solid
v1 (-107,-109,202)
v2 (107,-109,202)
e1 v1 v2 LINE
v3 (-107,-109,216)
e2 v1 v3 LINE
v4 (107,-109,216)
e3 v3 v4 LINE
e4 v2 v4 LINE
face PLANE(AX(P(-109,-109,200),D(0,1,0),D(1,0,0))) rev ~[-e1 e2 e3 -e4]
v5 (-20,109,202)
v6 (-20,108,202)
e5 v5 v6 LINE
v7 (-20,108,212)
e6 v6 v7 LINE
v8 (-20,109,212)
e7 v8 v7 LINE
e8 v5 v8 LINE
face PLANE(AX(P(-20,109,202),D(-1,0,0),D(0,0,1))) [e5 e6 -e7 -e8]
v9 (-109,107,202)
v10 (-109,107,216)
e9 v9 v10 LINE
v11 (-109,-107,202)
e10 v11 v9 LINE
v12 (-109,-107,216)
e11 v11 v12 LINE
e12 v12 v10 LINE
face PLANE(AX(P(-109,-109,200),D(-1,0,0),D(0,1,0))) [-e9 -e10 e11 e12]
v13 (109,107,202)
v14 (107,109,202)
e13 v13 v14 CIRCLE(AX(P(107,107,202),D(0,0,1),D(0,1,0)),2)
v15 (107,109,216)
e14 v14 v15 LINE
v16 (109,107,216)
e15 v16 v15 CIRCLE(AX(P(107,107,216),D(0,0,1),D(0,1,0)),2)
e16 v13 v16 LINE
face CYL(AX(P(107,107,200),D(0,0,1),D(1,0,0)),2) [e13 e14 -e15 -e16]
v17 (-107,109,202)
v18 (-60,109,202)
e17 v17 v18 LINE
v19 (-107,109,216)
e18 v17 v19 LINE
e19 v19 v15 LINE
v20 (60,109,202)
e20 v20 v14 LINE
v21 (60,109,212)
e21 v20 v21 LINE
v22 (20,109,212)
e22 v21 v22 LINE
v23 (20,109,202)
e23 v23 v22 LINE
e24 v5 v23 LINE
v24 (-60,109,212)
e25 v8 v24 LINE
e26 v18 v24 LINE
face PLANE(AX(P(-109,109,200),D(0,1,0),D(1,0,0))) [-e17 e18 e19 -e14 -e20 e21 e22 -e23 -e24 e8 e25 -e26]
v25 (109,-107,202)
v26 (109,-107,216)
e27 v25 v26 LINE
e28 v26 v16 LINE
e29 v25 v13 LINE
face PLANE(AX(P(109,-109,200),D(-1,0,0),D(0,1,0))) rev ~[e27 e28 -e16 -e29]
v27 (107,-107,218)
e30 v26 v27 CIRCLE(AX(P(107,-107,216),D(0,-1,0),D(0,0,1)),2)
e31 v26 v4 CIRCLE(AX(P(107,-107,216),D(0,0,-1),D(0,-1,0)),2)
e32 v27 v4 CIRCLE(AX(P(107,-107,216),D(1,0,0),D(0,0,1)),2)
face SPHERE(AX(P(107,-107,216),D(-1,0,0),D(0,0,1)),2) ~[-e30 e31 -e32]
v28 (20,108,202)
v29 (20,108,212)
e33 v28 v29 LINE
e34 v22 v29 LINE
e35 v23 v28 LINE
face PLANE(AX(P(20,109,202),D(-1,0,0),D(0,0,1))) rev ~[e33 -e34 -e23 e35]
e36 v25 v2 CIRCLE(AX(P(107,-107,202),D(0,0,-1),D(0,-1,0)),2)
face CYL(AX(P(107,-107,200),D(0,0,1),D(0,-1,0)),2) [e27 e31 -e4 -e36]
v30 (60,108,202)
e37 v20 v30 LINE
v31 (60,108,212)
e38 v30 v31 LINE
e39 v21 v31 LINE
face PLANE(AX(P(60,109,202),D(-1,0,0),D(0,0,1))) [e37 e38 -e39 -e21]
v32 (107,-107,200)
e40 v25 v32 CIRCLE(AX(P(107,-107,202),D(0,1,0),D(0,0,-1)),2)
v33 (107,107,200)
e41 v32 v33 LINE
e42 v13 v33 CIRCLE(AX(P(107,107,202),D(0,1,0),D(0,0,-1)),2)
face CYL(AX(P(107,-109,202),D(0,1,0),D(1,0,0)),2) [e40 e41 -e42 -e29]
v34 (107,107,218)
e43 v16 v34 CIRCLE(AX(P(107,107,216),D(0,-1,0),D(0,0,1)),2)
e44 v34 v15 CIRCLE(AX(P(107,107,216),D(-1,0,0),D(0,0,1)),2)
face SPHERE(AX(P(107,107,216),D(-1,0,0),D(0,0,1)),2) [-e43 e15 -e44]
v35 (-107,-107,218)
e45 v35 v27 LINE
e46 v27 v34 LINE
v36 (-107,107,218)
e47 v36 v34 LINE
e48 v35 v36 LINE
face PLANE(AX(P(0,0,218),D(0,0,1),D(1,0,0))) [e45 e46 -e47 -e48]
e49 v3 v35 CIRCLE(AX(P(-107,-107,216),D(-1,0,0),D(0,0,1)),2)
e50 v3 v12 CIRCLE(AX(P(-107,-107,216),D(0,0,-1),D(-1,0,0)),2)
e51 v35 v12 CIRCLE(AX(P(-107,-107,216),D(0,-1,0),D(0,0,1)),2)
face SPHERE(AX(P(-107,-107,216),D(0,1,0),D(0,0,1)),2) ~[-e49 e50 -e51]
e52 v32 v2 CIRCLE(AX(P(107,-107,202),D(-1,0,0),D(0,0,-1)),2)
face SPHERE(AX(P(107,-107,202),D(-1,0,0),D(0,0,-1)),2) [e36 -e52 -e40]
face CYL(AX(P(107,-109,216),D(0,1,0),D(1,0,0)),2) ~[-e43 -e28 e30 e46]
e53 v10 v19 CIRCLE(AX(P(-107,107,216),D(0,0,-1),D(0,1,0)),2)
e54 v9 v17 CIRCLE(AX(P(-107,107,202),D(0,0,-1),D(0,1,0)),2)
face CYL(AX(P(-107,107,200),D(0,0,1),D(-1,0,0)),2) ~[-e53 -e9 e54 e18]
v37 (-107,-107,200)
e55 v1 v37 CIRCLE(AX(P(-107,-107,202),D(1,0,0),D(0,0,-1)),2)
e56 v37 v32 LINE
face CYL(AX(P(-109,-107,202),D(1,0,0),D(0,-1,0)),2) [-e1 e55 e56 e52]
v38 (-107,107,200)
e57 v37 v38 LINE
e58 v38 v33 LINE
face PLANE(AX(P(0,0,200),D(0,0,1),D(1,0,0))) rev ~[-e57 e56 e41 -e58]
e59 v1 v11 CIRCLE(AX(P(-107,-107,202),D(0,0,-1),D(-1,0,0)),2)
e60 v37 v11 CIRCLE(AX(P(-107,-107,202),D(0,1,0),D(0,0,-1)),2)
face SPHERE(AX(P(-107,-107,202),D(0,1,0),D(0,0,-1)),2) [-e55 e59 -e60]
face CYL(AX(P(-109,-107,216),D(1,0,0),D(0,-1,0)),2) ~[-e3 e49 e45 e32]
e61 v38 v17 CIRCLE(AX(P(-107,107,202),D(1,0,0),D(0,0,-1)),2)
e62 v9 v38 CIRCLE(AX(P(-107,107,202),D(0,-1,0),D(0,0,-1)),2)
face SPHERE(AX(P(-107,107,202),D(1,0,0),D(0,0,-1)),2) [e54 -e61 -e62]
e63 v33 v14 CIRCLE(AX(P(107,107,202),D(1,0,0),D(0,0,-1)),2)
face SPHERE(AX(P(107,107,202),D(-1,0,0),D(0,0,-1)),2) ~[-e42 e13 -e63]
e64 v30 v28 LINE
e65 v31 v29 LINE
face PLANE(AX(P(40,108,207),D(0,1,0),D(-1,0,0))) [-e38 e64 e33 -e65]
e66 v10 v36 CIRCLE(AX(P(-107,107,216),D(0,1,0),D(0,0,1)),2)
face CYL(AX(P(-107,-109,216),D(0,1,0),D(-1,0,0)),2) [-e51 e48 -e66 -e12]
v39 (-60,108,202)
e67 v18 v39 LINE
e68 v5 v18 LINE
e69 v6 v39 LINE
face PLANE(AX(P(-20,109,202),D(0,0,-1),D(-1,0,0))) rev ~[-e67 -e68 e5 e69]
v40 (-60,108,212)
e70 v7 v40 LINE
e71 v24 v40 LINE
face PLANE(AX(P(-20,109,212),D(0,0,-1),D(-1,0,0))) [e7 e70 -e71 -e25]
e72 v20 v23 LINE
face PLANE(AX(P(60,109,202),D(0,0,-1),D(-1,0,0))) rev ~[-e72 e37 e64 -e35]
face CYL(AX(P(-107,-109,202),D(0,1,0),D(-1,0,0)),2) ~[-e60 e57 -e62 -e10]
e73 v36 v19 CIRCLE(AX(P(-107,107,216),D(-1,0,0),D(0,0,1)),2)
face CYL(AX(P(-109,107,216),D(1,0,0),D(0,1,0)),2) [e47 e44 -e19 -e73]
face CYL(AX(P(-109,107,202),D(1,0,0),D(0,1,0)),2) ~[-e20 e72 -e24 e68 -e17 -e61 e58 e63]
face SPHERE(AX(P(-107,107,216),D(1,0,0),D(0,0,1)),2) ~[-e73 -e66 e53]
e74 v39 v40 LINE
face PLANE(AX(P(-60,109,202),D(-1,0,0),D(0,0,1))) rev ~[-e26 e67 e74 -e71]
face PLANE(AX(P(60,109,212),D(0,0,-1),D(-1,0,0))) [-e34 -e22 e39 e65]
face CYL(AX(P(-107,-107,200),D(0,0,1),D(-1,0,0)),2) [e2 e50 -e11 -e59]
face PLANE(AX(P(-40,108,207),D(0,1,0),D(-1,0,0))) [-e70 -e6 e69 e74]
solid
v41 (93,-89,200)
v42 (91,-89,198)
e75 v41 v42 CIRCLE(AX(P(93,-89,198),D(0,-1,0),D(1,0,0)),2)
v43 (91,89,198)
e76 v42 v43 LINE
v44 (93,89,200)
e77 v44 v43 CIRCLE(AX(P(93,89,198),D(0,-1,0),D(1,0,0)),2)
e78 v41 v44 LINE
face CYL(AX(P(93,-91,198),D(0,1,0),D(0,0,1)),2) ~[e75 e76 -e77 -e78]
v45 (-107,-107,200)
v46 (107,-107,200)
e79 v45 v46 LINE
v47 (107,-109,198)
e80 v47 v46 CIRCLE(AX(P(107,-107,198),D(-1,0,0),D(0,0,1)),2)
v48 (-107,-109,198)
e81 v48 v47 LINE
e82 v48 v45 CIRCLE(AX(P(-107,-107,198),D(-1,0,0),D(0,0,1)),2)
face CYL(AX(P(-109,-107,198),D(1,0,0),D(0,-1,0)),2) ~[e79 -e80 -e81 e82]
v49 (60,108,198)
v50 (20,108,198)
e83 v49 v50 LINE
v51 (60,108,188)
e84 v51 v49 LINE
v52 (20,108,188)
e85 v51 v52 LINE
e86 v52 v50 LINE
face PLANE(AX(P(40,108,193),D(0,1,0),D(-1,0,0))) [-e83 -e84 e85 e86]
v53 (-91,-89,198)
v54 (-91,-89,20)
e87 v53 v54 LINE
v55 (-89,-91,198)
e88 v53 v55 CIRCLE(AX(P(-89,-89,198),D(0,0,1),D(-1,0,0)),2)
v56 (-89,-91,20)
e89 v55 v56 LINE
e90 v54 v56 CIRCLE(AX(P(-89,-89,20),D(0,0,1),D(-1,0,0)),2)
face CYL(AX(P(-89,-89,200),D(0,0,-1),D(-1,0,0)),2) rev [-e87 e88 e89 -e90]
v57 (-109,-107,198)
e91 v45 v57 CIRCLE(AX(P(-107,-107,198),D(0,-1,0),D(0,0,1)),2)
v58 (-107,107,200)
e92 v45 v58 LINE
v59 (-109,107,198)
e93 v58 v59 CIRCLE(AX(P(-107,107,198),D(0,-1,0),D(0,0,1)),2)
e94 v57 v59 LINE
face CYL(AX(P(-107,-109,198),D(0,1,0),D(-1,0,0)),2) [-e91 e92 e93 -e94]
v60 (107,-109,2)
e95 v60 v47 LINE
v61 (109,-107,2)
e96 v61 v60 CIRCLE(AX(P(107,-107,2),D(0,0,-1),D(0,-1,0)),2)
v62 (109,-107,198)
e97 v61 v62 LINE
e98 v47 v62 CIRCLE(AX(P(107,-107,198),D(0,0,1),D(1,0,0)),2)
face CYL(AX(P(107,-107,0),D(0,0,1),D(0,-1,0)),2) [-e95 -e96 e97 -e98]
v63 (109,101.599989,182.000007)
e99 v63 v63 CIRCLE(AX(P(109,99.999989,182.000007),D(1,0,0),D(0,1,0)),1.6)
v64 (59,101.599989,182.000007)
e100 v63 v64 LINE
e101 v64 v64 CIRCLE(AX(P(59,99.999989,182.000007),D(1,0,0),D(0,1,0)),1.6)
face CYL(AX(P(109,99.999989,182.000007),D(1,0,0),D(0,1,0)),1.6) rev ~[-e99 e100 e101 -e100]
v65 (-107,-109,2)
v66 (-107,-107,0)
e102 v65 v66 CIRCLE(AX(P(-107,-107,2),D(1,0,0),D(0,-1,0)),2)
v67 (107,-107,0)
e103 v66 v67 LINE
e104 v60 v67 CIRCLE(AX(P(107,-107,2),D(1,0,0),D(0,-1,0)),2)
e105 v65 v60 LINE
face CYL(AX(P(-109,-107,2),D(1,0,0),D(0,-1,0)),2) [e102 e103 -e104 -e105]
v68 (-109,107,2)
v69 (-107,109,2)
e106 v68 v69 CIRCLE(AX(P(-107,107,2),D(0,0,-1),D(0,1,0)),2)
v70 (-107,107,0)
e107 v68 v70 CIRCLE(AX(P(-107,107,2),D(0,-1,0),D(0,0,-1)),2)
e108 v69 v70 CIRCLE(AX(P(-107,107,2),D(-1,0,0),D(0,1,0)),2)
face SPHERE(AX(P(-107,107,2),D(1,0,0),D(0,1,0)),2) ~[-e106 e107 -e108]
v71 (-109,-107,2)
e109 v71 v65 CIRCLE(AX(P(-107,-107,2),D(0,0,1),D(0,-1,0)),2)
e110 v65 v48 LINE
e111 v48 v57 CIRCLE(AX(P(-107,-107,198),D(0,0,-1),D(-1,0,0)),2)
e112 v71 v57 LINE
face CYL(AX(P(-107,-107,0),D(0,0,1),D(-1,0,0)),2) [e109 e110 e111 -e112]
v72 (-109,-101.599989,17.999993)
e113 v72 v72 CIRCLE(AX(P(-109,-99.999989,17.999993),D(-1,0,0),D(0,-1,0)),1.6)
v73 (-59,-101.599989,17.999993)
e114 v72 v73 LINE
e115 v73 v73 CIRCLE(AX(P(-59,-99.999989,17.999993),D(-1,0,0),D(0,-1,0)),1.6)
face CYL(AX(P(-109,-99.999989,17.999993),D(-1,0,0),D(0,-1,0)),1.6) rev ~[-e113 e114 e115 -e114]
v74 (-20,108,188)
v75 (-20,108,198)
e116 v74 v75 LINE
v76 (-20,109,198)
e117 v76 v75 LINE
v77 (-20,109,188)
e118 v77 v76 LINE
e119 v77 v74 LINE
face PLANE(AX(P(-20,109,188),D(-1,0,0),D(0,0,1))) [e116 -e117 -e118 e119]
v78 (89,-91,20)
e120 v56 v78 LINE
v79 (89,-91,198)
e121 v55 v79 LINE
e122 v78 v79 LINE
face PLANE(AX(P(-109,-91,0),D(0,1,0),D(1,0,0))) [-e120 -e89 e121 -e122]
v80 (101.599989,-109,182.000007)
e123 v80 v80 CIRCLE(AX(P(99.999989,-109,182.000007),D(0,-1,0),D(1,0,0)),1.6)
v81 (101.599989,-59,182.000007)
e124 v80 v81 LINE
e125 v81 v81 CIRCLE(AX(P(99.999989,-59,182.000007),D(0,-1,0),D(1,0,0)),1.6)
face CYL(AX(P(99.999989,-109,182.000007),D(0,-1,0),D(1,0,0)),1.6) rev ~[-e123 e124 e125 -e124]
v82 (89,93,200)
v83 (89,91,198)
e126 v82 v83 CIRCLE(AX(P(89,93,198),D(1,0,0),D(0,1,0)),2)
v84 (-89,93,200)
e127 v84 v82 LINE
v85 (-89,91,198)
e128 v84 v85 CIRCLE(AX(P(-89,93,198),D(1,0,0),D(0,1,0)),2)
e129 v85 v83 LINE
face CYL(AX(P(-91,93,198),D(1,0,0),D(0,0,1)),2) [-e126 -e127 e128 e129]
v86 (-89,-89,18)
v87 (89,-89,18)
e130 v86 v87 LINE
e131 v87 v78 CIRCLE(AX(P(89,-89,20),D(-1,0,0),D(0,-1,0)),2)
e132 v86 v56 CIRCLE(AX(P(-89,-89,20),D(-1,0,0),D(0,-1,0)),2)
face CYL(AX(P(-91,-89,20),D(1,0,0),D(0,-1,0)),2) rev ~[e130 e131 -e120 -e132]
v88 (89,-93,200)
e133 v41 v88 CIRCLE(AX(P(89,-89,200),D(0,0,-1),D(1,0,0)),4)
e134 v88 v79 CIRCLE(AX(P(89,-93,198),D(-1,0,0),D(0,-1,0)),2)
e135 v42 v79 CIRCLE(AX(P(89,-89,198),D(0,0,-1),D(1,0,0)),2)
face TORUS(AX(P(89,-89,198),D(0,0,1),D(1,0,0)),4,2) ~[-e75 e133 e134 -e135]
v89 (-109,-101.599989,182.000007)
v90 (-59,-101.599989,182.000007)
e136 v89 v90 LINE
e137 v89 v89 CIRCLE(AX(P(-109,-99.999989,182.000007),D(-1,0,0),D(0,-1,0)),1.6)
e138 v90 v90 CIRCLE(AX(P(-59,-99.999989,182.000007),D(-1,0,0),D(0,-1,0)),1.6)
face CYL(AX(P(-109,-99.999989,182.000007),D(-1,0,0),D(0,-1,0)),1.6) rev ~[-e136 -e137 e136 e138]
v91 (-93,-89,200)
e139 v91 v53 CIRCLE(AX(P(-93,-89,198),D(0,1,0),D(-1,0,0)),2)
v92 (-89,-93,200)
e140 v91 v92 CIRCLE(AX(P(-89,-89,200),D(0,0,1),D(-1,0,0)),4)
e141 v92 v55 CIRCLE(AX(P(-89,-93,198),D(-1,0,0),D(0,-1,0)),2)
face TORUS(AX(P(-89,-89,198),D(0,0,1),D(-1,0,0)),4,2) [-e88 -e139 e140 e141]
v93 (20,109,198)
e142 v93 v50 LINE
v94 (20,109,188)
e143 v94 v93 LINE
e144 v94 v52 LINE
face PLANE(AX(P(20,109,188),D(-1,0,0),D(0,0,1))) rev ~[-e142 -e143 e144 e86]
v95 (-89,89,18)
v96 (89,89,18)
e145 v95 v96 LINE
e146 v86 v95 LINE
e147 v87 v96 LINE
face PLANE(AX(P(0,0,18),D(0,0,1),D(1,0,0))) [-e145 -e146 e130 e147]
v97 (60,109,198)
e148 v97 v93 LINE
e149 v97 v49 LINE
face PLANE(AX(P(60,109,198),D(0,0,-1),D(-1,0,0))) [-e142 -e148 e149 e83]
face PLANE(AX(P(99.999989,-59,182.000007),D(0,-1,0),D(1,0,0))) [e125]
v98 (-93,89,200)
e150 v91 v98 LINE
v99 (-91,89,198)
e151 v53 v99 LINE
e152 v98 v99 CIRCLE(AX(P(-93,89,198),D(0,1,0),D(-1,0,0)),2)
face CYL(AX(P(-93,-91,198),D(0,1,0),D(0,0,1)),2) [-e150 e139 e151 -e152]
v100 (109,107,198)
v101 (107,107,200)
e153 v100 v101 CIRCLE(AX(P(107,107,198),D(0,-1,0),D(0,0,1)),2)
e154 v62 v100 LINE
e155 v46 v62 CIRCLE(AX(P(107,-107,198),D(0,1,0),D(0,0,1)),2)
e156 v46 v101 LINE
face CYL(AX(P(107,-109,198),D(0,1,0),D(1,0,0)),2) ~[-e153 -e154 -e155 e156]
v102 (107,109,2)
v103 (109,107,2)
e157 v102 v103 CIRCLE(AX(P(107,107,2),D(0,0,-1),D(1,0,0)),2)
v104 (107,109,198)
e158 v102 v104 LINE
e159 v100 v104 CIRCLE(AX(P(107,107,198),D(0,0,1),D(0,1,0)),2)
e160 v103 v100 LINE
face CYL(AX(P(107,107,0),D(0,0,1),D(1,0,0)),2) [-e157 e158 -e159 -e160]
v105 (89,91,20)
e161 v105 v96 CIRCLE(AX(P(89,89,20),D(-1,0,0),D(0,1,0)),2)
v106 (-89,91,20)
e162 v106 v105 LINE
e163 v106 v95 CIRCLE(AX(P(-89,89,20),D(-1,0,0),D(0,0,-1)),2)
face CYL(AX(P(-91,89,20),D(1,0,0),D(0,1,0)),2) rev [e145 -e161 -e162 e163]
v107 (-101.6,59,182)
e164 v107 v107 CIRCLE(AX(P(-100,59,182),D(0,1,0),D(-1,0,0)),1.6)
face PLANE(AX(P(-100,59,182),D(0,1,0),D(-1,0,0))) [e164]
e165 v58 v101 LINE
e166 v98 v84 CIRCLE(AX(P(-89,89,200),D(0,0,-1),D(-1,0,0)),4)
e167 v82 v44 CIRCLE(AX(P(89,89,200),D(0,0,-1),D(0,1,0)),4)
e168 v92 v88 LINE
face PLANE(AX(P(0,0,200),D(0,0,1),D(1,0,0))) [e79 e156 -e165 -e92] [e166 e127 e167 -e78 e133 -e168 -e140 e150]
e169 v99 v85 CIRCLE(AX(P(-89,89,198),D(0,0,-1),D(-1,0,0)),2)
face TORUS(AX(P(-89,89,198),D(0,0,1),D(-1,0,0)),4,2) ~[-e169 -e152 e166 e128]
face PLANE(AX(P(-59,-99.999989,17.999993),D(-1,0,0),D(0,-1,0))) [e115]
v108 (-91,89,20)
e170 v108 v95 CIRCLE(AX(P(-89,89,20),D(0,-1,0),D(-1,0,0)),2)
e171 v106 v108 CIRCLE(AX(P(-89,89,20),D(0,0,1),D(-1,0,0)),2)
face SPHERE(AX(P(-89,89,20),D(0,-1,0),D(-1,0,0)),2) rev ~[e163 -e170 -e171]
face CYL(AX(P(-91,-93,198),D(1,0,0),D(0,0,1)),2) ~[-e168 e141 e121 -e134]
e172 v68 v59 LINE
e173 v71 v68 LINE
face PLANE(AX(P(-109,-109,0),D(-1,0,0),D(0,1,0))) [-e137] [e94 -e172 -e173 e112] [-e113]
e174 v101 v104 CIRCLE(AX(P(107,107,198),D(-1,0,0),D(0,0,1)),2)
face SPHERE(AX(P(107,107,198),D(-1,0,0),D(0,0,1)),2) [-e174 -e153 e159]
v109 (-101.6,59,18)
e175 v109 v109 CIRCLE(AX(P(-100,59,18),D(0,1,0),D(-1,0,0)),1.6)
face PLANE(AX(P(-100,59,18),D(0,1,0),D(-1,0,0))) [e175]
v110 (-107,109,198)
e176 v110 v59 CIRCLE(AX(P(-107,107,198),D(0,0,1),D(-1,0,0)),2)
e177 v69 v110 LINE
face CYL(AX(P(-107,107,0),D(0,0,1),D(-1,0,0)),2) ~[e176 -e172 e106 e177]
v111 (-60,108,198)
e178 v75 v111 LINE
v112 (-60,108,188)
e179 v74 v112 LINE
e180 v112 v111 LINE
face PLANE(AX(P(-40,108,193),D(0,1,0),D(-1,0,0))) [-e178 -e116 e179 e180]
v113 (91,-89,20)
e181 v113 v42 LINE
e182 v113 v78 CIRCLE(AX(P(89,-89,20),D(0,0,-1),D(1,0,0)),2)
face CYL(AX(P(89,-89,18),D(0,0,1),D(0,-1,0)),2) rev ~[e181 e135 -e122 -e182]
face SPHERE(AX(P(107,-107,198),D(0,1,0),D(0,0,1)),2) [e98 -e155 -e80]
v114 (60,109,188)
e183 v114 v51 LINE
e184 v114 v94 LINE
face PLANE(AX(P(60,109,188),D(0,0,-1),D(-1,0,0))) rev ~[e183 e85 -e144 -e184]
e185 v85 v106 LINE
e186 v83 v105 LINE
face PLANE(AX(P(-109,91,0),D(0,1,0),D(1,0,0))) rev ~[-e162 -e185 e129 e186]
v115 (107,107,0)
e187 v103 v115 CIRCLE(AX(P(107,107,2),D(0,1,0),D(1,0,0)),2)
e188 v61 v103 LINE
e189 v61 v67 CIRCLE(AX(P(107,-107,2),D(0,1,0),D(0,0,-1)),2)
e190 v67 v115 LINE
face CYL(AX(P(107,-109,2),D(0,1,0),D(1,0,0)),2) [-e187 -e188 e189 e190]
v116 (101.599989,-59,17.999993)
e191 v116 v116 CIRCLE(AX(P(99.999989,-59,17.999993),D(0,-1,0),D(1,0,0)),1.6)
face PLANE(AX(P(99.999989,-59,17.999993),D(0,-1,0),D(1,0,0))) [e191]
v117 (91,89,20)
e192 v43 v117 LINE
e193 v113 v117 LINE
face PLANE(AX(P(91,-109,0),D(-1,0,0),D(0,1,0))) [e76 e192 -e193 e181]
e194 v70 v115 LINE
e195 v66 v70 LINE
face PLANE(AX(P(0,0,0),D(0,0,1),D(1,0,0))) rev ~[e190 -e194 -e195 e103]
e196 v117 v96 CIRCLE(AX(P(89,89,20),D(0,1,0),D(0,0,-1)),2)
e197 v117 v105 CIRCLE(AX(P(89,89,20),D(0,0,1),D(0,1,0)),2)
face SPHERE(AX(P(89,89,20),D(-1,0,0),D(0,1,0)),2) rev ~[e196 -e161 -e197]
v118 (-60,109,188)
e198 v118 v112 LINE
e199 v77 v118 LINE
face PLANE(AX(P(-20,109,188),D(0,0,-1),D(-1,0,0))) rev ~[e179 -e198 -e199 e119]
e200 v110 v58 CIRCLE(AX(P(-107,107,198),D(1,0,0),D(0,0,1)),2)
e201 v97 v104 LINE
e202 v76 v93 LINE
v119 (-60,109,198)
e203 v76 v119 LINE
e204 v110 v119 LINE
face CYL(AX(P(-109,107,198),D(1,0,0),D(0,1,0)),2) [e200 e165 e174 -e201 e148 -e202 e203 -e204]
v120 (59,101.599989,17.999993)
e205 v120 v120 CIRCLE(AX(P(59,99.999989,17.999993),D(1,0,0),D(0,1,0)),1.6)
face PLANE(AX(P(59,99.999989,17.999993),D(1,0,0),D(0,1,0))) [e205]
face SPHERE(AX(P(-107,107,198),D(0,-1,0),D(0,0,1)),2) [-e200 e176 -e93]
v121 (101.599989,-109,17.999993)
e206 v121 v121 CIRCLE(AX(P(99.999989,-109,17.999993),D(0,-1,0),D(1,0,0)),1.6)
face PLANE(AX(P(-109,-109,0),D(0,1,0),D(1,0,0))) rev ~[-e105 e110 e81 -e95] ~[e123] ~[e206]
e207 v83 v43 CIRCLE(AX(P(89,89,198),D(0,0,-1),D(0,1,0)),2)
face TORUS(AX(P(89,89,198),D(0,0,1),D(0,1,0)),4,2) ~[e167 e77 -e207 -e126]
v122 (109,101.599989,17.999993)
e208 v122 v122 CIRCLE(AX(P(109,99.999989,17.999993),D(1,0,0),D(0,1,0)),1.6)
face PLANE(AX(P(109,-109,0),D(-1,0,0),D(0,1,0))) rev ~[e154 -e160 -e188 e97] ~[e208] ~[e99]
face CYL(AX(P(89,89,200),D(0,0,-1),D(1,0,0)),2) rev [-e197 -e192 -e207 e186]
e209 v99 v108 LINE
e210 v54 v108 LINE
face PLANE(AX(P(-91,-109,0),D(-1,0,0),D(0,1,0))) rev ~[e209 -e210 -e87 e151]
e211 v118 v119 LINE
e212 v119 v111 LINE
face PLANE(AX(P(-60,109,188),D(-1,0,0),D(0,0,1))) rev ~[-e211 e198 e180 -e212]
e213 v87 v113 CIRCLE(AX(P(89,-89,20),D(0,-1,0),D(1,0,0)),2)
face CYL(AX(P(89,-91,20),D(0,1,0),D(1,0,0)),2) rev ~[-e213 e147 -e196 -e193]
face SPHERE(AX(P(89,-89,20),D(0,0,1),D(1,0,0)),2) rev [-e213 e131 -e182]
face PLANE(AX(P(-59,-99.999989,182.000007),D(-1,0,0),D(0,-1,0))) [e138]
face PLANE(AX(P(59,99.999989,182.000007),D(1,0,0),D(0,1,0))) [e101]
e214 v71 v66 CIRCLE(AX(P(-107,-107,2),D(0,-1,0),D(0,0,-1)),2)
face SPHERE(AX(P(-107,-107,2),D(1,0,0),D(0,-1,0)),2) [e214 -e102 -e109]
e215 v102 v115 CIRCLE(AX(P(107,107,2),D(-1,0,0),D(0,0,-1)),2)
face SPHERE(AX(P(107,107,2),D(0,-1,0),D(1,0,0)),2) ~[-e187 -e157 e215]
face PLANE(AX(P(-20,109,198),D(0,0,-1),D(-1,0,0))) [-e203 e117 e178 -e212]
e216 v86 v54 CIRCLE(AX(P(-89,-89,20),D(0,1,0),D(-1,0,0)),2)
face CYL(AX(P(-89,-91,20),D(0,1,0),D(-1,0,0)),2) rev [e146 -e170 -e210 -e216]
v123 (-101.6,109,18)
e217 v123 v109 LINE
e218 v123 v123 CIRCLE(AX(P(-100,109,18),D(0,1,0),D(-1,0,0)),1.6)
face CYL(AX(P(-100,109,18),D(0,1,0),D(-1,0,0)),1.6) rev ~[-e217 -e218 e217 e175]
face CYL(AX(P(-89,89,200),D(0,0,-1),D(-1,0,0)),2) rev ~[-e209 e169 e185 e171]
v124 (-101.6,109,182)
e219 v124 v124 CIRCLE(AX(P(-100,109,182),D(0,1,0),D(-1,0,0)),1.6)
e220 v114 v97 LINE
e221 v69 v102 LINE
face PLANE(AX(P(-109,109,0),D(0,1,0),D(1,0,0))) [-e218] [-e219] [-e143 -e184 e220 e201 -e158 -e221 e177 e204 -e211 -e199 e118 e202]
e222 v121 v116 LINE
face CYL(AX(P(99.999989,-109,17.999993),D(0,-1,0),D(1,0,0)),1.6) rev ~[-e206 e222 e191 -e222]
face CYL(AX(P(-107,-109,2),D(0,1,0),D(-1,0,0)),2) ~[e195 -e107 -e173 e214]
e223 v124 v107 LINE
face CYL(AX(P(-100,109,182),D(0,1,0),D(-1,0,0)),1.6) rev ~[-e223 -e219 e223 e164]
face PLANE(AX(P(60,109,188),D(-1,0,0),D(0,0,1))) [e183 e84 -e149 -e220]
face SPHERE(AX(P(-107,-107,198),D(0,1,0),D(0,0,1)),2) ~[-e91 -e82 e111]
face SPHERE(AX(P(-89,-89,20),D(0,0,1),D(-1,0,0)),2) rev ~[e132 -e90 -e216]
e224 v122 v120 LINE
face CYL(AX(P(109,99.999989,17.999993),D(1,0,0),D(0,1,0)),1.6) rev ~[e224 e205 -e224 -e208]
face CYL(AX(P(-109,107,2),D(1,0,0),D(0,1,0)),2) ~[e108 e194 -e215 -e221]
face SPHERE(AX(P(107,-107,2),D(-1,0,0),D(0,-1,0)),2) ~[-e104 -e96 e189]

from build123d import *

# Parameters (mm, degrees)
F0_W      = 218
F0_H      = 218
F1_DEPTH  = 200
F2_T      = -18
F3_W      = 218
F3_H      = 218
F3_W_2    = 182
F3_H_2    = 182
F4_DEPTH  = 18
F5_R      = 2
F6_R      = 2
F7_W      = 40
F7_H      = 10
F8_DEPTH  = 1
F9_R      = 1.6
F10_DEPTH = 50
F11_R     = 1.6
F12_DEPTH = 50
F13_R     = 1.6
F14_DEPTH = 50
F15_R     = 1.6
F16_DEPTH = 50


with BuildPart() as f1:
    # F0 (on Top) → F1 (new body)
    with BuildSketch(Plane.XY):
        Rectangle(F0_W, F0_H)
    extrude(amount=F1_DEPTH)

    # F2
    f2_openings = [f1.faces().sort_by_distance(p)[0] for p in [
        (0, 0, 200),
    ]]
    offset(amount=F2_T, openings=f2_openings)

    # F6
    f6_edges = [f1.edges().sort_by_distance(p)[0] for p in [
        (-109, 0, 200),
        (-91, 0, 200),
        (0, 91, 200),
        (91, 0, 200),
        (0, -91, 200),
        (-91, -91, 109),
        (-91, 0, 18),
        (-91, 91, 109),
        (0, 91, 18),
        (91, 91, 109),
        (91, -91, 109),
        (91, 0, 18),
        (0, -91, 18),
        (0, 109, 200),
        (109, 0, 200),
        (0, -109, 200),
        (0, -109, 0),
        (-109, -109, 100),
        (109, -109, 100),
        (109, 0, 0),
        (109, 109, 100),
        (0, 109, 0),
        (-109, 109, 100),
        (-109, 0, 0),
    ]]
    fillet(f6_edges, radius=F6_R)


with BuildPart() as f4:
    # F3 (on face) → F4 (new body)
    with BuildSketch(Plane.XY.offset(200)):
        Rectangle(F3_W, F3_H)
        Rectangle(F3_W_2, F3_H_2, mode=Mode.SUBTRACT)
        Rectangle(F3_W_2, F3_H_2)
    extrude(amount=F4_DEPTH)

    # F5
    f5_edges = [f4.edges().sort_by_distance(p)[0] for p in [
        (0, 109, 200),
        (-109, 0, 200),
        (0, -109, 200),
        (109, 0, 200),
        (0, 109, 218),
        (-109, 0, 218),
        (0, -109, 218),
        (109, 0, 218),
        (109, 109, 209),
        (109, -109, 209),
        (-109, 109, 209),
        (-109, -109, 209),
    ]]
    fillet(f5_edges, radius=F5_R)


with BuildPart() as f8_tool:
    # F7 (on face) → F8 (new body)
    with BuildSketch(Plane(origin=(0, 109, 0), x_dir=(-1, 0, 0), z_dir=(0, 1, 0))):
        with Locations((-40, 207)):
            Rectangle(F7_W, F7_H)
        with Locations((-40, 193)):
            Rectangle(F7_W, F7_H)
        with Locations((40, 207)):
            Rectangle(F7_W, F7_H)
        with Locations((40, 193)):
            Rectangle(F7_W, F7_H)
    extrude(amount=-F8_DEPTH)


with BuildPart() as f1_1:
    add(f1.part)

    # F8: cut by f8_tool
    add(f8_tool.part, mode=Mode.SUBTRACT)

    # F9 (on face) → F10 (cut)
    with BuildSketch(Plane(origin=(0, 109, 0), x_dir=(-1, 0, 0), z_dir=(0, 1, 0))):
        with Locations((100, 18)):
            Circle(F9_R)
        with Locations((100, 182)):
            Circle(F9_R)
    extrude(amount=-F10_DEPTH, mode=Mode.SUBTRACT)

    # F11 (on face) → F12 (cut)
    with BuildSketch(Plane.YZ.offset(109)):
        with Locations((99.9999886, 182.0000066)):
            Circle(F11_R)
        with Locations((99.9999886, 17.9999934)):
            Circle(F11_R)
    extrude(amount=-F12_DEPTH, mode=Mode.SUBTRACT)

    # F13 (on face) → F14 (cut)
    with BuildSketch(Plane.XZ.offset(109)):
        with Locations((99.9999886, 182.0000066)):
            Circle(F13_R)
        with Locations((99.9999886, 17.9999934)):
            Circle(F13_R)
    extrude(amount=-F14_DEPTH, mode=Mode.SUBTRACT)

    # F15 (on face) → F16 (cut)
    with BuildSketch(Plane(origin=(-109, 0, 0), x_dir=(0, -1, 0), z_dir=(-1, 0, 0))):
        with Locations((99.9999886, 182.0000066)):
            Circle(F15_R)
        with Locations((99.9999886, 17.9999934)):
            Circle(F15_R)
    extrude(amount=-F16_DEPTH, mode=Mode.SUBTRACT)


with BuildPart() as f4_1:
    add(f4.part)

    # F8: cut by f8_tool
    add(f8_tool.part, mode=Mode.SUBTRACT)


solid = Compound([f1_1.part, f4_1.part])
